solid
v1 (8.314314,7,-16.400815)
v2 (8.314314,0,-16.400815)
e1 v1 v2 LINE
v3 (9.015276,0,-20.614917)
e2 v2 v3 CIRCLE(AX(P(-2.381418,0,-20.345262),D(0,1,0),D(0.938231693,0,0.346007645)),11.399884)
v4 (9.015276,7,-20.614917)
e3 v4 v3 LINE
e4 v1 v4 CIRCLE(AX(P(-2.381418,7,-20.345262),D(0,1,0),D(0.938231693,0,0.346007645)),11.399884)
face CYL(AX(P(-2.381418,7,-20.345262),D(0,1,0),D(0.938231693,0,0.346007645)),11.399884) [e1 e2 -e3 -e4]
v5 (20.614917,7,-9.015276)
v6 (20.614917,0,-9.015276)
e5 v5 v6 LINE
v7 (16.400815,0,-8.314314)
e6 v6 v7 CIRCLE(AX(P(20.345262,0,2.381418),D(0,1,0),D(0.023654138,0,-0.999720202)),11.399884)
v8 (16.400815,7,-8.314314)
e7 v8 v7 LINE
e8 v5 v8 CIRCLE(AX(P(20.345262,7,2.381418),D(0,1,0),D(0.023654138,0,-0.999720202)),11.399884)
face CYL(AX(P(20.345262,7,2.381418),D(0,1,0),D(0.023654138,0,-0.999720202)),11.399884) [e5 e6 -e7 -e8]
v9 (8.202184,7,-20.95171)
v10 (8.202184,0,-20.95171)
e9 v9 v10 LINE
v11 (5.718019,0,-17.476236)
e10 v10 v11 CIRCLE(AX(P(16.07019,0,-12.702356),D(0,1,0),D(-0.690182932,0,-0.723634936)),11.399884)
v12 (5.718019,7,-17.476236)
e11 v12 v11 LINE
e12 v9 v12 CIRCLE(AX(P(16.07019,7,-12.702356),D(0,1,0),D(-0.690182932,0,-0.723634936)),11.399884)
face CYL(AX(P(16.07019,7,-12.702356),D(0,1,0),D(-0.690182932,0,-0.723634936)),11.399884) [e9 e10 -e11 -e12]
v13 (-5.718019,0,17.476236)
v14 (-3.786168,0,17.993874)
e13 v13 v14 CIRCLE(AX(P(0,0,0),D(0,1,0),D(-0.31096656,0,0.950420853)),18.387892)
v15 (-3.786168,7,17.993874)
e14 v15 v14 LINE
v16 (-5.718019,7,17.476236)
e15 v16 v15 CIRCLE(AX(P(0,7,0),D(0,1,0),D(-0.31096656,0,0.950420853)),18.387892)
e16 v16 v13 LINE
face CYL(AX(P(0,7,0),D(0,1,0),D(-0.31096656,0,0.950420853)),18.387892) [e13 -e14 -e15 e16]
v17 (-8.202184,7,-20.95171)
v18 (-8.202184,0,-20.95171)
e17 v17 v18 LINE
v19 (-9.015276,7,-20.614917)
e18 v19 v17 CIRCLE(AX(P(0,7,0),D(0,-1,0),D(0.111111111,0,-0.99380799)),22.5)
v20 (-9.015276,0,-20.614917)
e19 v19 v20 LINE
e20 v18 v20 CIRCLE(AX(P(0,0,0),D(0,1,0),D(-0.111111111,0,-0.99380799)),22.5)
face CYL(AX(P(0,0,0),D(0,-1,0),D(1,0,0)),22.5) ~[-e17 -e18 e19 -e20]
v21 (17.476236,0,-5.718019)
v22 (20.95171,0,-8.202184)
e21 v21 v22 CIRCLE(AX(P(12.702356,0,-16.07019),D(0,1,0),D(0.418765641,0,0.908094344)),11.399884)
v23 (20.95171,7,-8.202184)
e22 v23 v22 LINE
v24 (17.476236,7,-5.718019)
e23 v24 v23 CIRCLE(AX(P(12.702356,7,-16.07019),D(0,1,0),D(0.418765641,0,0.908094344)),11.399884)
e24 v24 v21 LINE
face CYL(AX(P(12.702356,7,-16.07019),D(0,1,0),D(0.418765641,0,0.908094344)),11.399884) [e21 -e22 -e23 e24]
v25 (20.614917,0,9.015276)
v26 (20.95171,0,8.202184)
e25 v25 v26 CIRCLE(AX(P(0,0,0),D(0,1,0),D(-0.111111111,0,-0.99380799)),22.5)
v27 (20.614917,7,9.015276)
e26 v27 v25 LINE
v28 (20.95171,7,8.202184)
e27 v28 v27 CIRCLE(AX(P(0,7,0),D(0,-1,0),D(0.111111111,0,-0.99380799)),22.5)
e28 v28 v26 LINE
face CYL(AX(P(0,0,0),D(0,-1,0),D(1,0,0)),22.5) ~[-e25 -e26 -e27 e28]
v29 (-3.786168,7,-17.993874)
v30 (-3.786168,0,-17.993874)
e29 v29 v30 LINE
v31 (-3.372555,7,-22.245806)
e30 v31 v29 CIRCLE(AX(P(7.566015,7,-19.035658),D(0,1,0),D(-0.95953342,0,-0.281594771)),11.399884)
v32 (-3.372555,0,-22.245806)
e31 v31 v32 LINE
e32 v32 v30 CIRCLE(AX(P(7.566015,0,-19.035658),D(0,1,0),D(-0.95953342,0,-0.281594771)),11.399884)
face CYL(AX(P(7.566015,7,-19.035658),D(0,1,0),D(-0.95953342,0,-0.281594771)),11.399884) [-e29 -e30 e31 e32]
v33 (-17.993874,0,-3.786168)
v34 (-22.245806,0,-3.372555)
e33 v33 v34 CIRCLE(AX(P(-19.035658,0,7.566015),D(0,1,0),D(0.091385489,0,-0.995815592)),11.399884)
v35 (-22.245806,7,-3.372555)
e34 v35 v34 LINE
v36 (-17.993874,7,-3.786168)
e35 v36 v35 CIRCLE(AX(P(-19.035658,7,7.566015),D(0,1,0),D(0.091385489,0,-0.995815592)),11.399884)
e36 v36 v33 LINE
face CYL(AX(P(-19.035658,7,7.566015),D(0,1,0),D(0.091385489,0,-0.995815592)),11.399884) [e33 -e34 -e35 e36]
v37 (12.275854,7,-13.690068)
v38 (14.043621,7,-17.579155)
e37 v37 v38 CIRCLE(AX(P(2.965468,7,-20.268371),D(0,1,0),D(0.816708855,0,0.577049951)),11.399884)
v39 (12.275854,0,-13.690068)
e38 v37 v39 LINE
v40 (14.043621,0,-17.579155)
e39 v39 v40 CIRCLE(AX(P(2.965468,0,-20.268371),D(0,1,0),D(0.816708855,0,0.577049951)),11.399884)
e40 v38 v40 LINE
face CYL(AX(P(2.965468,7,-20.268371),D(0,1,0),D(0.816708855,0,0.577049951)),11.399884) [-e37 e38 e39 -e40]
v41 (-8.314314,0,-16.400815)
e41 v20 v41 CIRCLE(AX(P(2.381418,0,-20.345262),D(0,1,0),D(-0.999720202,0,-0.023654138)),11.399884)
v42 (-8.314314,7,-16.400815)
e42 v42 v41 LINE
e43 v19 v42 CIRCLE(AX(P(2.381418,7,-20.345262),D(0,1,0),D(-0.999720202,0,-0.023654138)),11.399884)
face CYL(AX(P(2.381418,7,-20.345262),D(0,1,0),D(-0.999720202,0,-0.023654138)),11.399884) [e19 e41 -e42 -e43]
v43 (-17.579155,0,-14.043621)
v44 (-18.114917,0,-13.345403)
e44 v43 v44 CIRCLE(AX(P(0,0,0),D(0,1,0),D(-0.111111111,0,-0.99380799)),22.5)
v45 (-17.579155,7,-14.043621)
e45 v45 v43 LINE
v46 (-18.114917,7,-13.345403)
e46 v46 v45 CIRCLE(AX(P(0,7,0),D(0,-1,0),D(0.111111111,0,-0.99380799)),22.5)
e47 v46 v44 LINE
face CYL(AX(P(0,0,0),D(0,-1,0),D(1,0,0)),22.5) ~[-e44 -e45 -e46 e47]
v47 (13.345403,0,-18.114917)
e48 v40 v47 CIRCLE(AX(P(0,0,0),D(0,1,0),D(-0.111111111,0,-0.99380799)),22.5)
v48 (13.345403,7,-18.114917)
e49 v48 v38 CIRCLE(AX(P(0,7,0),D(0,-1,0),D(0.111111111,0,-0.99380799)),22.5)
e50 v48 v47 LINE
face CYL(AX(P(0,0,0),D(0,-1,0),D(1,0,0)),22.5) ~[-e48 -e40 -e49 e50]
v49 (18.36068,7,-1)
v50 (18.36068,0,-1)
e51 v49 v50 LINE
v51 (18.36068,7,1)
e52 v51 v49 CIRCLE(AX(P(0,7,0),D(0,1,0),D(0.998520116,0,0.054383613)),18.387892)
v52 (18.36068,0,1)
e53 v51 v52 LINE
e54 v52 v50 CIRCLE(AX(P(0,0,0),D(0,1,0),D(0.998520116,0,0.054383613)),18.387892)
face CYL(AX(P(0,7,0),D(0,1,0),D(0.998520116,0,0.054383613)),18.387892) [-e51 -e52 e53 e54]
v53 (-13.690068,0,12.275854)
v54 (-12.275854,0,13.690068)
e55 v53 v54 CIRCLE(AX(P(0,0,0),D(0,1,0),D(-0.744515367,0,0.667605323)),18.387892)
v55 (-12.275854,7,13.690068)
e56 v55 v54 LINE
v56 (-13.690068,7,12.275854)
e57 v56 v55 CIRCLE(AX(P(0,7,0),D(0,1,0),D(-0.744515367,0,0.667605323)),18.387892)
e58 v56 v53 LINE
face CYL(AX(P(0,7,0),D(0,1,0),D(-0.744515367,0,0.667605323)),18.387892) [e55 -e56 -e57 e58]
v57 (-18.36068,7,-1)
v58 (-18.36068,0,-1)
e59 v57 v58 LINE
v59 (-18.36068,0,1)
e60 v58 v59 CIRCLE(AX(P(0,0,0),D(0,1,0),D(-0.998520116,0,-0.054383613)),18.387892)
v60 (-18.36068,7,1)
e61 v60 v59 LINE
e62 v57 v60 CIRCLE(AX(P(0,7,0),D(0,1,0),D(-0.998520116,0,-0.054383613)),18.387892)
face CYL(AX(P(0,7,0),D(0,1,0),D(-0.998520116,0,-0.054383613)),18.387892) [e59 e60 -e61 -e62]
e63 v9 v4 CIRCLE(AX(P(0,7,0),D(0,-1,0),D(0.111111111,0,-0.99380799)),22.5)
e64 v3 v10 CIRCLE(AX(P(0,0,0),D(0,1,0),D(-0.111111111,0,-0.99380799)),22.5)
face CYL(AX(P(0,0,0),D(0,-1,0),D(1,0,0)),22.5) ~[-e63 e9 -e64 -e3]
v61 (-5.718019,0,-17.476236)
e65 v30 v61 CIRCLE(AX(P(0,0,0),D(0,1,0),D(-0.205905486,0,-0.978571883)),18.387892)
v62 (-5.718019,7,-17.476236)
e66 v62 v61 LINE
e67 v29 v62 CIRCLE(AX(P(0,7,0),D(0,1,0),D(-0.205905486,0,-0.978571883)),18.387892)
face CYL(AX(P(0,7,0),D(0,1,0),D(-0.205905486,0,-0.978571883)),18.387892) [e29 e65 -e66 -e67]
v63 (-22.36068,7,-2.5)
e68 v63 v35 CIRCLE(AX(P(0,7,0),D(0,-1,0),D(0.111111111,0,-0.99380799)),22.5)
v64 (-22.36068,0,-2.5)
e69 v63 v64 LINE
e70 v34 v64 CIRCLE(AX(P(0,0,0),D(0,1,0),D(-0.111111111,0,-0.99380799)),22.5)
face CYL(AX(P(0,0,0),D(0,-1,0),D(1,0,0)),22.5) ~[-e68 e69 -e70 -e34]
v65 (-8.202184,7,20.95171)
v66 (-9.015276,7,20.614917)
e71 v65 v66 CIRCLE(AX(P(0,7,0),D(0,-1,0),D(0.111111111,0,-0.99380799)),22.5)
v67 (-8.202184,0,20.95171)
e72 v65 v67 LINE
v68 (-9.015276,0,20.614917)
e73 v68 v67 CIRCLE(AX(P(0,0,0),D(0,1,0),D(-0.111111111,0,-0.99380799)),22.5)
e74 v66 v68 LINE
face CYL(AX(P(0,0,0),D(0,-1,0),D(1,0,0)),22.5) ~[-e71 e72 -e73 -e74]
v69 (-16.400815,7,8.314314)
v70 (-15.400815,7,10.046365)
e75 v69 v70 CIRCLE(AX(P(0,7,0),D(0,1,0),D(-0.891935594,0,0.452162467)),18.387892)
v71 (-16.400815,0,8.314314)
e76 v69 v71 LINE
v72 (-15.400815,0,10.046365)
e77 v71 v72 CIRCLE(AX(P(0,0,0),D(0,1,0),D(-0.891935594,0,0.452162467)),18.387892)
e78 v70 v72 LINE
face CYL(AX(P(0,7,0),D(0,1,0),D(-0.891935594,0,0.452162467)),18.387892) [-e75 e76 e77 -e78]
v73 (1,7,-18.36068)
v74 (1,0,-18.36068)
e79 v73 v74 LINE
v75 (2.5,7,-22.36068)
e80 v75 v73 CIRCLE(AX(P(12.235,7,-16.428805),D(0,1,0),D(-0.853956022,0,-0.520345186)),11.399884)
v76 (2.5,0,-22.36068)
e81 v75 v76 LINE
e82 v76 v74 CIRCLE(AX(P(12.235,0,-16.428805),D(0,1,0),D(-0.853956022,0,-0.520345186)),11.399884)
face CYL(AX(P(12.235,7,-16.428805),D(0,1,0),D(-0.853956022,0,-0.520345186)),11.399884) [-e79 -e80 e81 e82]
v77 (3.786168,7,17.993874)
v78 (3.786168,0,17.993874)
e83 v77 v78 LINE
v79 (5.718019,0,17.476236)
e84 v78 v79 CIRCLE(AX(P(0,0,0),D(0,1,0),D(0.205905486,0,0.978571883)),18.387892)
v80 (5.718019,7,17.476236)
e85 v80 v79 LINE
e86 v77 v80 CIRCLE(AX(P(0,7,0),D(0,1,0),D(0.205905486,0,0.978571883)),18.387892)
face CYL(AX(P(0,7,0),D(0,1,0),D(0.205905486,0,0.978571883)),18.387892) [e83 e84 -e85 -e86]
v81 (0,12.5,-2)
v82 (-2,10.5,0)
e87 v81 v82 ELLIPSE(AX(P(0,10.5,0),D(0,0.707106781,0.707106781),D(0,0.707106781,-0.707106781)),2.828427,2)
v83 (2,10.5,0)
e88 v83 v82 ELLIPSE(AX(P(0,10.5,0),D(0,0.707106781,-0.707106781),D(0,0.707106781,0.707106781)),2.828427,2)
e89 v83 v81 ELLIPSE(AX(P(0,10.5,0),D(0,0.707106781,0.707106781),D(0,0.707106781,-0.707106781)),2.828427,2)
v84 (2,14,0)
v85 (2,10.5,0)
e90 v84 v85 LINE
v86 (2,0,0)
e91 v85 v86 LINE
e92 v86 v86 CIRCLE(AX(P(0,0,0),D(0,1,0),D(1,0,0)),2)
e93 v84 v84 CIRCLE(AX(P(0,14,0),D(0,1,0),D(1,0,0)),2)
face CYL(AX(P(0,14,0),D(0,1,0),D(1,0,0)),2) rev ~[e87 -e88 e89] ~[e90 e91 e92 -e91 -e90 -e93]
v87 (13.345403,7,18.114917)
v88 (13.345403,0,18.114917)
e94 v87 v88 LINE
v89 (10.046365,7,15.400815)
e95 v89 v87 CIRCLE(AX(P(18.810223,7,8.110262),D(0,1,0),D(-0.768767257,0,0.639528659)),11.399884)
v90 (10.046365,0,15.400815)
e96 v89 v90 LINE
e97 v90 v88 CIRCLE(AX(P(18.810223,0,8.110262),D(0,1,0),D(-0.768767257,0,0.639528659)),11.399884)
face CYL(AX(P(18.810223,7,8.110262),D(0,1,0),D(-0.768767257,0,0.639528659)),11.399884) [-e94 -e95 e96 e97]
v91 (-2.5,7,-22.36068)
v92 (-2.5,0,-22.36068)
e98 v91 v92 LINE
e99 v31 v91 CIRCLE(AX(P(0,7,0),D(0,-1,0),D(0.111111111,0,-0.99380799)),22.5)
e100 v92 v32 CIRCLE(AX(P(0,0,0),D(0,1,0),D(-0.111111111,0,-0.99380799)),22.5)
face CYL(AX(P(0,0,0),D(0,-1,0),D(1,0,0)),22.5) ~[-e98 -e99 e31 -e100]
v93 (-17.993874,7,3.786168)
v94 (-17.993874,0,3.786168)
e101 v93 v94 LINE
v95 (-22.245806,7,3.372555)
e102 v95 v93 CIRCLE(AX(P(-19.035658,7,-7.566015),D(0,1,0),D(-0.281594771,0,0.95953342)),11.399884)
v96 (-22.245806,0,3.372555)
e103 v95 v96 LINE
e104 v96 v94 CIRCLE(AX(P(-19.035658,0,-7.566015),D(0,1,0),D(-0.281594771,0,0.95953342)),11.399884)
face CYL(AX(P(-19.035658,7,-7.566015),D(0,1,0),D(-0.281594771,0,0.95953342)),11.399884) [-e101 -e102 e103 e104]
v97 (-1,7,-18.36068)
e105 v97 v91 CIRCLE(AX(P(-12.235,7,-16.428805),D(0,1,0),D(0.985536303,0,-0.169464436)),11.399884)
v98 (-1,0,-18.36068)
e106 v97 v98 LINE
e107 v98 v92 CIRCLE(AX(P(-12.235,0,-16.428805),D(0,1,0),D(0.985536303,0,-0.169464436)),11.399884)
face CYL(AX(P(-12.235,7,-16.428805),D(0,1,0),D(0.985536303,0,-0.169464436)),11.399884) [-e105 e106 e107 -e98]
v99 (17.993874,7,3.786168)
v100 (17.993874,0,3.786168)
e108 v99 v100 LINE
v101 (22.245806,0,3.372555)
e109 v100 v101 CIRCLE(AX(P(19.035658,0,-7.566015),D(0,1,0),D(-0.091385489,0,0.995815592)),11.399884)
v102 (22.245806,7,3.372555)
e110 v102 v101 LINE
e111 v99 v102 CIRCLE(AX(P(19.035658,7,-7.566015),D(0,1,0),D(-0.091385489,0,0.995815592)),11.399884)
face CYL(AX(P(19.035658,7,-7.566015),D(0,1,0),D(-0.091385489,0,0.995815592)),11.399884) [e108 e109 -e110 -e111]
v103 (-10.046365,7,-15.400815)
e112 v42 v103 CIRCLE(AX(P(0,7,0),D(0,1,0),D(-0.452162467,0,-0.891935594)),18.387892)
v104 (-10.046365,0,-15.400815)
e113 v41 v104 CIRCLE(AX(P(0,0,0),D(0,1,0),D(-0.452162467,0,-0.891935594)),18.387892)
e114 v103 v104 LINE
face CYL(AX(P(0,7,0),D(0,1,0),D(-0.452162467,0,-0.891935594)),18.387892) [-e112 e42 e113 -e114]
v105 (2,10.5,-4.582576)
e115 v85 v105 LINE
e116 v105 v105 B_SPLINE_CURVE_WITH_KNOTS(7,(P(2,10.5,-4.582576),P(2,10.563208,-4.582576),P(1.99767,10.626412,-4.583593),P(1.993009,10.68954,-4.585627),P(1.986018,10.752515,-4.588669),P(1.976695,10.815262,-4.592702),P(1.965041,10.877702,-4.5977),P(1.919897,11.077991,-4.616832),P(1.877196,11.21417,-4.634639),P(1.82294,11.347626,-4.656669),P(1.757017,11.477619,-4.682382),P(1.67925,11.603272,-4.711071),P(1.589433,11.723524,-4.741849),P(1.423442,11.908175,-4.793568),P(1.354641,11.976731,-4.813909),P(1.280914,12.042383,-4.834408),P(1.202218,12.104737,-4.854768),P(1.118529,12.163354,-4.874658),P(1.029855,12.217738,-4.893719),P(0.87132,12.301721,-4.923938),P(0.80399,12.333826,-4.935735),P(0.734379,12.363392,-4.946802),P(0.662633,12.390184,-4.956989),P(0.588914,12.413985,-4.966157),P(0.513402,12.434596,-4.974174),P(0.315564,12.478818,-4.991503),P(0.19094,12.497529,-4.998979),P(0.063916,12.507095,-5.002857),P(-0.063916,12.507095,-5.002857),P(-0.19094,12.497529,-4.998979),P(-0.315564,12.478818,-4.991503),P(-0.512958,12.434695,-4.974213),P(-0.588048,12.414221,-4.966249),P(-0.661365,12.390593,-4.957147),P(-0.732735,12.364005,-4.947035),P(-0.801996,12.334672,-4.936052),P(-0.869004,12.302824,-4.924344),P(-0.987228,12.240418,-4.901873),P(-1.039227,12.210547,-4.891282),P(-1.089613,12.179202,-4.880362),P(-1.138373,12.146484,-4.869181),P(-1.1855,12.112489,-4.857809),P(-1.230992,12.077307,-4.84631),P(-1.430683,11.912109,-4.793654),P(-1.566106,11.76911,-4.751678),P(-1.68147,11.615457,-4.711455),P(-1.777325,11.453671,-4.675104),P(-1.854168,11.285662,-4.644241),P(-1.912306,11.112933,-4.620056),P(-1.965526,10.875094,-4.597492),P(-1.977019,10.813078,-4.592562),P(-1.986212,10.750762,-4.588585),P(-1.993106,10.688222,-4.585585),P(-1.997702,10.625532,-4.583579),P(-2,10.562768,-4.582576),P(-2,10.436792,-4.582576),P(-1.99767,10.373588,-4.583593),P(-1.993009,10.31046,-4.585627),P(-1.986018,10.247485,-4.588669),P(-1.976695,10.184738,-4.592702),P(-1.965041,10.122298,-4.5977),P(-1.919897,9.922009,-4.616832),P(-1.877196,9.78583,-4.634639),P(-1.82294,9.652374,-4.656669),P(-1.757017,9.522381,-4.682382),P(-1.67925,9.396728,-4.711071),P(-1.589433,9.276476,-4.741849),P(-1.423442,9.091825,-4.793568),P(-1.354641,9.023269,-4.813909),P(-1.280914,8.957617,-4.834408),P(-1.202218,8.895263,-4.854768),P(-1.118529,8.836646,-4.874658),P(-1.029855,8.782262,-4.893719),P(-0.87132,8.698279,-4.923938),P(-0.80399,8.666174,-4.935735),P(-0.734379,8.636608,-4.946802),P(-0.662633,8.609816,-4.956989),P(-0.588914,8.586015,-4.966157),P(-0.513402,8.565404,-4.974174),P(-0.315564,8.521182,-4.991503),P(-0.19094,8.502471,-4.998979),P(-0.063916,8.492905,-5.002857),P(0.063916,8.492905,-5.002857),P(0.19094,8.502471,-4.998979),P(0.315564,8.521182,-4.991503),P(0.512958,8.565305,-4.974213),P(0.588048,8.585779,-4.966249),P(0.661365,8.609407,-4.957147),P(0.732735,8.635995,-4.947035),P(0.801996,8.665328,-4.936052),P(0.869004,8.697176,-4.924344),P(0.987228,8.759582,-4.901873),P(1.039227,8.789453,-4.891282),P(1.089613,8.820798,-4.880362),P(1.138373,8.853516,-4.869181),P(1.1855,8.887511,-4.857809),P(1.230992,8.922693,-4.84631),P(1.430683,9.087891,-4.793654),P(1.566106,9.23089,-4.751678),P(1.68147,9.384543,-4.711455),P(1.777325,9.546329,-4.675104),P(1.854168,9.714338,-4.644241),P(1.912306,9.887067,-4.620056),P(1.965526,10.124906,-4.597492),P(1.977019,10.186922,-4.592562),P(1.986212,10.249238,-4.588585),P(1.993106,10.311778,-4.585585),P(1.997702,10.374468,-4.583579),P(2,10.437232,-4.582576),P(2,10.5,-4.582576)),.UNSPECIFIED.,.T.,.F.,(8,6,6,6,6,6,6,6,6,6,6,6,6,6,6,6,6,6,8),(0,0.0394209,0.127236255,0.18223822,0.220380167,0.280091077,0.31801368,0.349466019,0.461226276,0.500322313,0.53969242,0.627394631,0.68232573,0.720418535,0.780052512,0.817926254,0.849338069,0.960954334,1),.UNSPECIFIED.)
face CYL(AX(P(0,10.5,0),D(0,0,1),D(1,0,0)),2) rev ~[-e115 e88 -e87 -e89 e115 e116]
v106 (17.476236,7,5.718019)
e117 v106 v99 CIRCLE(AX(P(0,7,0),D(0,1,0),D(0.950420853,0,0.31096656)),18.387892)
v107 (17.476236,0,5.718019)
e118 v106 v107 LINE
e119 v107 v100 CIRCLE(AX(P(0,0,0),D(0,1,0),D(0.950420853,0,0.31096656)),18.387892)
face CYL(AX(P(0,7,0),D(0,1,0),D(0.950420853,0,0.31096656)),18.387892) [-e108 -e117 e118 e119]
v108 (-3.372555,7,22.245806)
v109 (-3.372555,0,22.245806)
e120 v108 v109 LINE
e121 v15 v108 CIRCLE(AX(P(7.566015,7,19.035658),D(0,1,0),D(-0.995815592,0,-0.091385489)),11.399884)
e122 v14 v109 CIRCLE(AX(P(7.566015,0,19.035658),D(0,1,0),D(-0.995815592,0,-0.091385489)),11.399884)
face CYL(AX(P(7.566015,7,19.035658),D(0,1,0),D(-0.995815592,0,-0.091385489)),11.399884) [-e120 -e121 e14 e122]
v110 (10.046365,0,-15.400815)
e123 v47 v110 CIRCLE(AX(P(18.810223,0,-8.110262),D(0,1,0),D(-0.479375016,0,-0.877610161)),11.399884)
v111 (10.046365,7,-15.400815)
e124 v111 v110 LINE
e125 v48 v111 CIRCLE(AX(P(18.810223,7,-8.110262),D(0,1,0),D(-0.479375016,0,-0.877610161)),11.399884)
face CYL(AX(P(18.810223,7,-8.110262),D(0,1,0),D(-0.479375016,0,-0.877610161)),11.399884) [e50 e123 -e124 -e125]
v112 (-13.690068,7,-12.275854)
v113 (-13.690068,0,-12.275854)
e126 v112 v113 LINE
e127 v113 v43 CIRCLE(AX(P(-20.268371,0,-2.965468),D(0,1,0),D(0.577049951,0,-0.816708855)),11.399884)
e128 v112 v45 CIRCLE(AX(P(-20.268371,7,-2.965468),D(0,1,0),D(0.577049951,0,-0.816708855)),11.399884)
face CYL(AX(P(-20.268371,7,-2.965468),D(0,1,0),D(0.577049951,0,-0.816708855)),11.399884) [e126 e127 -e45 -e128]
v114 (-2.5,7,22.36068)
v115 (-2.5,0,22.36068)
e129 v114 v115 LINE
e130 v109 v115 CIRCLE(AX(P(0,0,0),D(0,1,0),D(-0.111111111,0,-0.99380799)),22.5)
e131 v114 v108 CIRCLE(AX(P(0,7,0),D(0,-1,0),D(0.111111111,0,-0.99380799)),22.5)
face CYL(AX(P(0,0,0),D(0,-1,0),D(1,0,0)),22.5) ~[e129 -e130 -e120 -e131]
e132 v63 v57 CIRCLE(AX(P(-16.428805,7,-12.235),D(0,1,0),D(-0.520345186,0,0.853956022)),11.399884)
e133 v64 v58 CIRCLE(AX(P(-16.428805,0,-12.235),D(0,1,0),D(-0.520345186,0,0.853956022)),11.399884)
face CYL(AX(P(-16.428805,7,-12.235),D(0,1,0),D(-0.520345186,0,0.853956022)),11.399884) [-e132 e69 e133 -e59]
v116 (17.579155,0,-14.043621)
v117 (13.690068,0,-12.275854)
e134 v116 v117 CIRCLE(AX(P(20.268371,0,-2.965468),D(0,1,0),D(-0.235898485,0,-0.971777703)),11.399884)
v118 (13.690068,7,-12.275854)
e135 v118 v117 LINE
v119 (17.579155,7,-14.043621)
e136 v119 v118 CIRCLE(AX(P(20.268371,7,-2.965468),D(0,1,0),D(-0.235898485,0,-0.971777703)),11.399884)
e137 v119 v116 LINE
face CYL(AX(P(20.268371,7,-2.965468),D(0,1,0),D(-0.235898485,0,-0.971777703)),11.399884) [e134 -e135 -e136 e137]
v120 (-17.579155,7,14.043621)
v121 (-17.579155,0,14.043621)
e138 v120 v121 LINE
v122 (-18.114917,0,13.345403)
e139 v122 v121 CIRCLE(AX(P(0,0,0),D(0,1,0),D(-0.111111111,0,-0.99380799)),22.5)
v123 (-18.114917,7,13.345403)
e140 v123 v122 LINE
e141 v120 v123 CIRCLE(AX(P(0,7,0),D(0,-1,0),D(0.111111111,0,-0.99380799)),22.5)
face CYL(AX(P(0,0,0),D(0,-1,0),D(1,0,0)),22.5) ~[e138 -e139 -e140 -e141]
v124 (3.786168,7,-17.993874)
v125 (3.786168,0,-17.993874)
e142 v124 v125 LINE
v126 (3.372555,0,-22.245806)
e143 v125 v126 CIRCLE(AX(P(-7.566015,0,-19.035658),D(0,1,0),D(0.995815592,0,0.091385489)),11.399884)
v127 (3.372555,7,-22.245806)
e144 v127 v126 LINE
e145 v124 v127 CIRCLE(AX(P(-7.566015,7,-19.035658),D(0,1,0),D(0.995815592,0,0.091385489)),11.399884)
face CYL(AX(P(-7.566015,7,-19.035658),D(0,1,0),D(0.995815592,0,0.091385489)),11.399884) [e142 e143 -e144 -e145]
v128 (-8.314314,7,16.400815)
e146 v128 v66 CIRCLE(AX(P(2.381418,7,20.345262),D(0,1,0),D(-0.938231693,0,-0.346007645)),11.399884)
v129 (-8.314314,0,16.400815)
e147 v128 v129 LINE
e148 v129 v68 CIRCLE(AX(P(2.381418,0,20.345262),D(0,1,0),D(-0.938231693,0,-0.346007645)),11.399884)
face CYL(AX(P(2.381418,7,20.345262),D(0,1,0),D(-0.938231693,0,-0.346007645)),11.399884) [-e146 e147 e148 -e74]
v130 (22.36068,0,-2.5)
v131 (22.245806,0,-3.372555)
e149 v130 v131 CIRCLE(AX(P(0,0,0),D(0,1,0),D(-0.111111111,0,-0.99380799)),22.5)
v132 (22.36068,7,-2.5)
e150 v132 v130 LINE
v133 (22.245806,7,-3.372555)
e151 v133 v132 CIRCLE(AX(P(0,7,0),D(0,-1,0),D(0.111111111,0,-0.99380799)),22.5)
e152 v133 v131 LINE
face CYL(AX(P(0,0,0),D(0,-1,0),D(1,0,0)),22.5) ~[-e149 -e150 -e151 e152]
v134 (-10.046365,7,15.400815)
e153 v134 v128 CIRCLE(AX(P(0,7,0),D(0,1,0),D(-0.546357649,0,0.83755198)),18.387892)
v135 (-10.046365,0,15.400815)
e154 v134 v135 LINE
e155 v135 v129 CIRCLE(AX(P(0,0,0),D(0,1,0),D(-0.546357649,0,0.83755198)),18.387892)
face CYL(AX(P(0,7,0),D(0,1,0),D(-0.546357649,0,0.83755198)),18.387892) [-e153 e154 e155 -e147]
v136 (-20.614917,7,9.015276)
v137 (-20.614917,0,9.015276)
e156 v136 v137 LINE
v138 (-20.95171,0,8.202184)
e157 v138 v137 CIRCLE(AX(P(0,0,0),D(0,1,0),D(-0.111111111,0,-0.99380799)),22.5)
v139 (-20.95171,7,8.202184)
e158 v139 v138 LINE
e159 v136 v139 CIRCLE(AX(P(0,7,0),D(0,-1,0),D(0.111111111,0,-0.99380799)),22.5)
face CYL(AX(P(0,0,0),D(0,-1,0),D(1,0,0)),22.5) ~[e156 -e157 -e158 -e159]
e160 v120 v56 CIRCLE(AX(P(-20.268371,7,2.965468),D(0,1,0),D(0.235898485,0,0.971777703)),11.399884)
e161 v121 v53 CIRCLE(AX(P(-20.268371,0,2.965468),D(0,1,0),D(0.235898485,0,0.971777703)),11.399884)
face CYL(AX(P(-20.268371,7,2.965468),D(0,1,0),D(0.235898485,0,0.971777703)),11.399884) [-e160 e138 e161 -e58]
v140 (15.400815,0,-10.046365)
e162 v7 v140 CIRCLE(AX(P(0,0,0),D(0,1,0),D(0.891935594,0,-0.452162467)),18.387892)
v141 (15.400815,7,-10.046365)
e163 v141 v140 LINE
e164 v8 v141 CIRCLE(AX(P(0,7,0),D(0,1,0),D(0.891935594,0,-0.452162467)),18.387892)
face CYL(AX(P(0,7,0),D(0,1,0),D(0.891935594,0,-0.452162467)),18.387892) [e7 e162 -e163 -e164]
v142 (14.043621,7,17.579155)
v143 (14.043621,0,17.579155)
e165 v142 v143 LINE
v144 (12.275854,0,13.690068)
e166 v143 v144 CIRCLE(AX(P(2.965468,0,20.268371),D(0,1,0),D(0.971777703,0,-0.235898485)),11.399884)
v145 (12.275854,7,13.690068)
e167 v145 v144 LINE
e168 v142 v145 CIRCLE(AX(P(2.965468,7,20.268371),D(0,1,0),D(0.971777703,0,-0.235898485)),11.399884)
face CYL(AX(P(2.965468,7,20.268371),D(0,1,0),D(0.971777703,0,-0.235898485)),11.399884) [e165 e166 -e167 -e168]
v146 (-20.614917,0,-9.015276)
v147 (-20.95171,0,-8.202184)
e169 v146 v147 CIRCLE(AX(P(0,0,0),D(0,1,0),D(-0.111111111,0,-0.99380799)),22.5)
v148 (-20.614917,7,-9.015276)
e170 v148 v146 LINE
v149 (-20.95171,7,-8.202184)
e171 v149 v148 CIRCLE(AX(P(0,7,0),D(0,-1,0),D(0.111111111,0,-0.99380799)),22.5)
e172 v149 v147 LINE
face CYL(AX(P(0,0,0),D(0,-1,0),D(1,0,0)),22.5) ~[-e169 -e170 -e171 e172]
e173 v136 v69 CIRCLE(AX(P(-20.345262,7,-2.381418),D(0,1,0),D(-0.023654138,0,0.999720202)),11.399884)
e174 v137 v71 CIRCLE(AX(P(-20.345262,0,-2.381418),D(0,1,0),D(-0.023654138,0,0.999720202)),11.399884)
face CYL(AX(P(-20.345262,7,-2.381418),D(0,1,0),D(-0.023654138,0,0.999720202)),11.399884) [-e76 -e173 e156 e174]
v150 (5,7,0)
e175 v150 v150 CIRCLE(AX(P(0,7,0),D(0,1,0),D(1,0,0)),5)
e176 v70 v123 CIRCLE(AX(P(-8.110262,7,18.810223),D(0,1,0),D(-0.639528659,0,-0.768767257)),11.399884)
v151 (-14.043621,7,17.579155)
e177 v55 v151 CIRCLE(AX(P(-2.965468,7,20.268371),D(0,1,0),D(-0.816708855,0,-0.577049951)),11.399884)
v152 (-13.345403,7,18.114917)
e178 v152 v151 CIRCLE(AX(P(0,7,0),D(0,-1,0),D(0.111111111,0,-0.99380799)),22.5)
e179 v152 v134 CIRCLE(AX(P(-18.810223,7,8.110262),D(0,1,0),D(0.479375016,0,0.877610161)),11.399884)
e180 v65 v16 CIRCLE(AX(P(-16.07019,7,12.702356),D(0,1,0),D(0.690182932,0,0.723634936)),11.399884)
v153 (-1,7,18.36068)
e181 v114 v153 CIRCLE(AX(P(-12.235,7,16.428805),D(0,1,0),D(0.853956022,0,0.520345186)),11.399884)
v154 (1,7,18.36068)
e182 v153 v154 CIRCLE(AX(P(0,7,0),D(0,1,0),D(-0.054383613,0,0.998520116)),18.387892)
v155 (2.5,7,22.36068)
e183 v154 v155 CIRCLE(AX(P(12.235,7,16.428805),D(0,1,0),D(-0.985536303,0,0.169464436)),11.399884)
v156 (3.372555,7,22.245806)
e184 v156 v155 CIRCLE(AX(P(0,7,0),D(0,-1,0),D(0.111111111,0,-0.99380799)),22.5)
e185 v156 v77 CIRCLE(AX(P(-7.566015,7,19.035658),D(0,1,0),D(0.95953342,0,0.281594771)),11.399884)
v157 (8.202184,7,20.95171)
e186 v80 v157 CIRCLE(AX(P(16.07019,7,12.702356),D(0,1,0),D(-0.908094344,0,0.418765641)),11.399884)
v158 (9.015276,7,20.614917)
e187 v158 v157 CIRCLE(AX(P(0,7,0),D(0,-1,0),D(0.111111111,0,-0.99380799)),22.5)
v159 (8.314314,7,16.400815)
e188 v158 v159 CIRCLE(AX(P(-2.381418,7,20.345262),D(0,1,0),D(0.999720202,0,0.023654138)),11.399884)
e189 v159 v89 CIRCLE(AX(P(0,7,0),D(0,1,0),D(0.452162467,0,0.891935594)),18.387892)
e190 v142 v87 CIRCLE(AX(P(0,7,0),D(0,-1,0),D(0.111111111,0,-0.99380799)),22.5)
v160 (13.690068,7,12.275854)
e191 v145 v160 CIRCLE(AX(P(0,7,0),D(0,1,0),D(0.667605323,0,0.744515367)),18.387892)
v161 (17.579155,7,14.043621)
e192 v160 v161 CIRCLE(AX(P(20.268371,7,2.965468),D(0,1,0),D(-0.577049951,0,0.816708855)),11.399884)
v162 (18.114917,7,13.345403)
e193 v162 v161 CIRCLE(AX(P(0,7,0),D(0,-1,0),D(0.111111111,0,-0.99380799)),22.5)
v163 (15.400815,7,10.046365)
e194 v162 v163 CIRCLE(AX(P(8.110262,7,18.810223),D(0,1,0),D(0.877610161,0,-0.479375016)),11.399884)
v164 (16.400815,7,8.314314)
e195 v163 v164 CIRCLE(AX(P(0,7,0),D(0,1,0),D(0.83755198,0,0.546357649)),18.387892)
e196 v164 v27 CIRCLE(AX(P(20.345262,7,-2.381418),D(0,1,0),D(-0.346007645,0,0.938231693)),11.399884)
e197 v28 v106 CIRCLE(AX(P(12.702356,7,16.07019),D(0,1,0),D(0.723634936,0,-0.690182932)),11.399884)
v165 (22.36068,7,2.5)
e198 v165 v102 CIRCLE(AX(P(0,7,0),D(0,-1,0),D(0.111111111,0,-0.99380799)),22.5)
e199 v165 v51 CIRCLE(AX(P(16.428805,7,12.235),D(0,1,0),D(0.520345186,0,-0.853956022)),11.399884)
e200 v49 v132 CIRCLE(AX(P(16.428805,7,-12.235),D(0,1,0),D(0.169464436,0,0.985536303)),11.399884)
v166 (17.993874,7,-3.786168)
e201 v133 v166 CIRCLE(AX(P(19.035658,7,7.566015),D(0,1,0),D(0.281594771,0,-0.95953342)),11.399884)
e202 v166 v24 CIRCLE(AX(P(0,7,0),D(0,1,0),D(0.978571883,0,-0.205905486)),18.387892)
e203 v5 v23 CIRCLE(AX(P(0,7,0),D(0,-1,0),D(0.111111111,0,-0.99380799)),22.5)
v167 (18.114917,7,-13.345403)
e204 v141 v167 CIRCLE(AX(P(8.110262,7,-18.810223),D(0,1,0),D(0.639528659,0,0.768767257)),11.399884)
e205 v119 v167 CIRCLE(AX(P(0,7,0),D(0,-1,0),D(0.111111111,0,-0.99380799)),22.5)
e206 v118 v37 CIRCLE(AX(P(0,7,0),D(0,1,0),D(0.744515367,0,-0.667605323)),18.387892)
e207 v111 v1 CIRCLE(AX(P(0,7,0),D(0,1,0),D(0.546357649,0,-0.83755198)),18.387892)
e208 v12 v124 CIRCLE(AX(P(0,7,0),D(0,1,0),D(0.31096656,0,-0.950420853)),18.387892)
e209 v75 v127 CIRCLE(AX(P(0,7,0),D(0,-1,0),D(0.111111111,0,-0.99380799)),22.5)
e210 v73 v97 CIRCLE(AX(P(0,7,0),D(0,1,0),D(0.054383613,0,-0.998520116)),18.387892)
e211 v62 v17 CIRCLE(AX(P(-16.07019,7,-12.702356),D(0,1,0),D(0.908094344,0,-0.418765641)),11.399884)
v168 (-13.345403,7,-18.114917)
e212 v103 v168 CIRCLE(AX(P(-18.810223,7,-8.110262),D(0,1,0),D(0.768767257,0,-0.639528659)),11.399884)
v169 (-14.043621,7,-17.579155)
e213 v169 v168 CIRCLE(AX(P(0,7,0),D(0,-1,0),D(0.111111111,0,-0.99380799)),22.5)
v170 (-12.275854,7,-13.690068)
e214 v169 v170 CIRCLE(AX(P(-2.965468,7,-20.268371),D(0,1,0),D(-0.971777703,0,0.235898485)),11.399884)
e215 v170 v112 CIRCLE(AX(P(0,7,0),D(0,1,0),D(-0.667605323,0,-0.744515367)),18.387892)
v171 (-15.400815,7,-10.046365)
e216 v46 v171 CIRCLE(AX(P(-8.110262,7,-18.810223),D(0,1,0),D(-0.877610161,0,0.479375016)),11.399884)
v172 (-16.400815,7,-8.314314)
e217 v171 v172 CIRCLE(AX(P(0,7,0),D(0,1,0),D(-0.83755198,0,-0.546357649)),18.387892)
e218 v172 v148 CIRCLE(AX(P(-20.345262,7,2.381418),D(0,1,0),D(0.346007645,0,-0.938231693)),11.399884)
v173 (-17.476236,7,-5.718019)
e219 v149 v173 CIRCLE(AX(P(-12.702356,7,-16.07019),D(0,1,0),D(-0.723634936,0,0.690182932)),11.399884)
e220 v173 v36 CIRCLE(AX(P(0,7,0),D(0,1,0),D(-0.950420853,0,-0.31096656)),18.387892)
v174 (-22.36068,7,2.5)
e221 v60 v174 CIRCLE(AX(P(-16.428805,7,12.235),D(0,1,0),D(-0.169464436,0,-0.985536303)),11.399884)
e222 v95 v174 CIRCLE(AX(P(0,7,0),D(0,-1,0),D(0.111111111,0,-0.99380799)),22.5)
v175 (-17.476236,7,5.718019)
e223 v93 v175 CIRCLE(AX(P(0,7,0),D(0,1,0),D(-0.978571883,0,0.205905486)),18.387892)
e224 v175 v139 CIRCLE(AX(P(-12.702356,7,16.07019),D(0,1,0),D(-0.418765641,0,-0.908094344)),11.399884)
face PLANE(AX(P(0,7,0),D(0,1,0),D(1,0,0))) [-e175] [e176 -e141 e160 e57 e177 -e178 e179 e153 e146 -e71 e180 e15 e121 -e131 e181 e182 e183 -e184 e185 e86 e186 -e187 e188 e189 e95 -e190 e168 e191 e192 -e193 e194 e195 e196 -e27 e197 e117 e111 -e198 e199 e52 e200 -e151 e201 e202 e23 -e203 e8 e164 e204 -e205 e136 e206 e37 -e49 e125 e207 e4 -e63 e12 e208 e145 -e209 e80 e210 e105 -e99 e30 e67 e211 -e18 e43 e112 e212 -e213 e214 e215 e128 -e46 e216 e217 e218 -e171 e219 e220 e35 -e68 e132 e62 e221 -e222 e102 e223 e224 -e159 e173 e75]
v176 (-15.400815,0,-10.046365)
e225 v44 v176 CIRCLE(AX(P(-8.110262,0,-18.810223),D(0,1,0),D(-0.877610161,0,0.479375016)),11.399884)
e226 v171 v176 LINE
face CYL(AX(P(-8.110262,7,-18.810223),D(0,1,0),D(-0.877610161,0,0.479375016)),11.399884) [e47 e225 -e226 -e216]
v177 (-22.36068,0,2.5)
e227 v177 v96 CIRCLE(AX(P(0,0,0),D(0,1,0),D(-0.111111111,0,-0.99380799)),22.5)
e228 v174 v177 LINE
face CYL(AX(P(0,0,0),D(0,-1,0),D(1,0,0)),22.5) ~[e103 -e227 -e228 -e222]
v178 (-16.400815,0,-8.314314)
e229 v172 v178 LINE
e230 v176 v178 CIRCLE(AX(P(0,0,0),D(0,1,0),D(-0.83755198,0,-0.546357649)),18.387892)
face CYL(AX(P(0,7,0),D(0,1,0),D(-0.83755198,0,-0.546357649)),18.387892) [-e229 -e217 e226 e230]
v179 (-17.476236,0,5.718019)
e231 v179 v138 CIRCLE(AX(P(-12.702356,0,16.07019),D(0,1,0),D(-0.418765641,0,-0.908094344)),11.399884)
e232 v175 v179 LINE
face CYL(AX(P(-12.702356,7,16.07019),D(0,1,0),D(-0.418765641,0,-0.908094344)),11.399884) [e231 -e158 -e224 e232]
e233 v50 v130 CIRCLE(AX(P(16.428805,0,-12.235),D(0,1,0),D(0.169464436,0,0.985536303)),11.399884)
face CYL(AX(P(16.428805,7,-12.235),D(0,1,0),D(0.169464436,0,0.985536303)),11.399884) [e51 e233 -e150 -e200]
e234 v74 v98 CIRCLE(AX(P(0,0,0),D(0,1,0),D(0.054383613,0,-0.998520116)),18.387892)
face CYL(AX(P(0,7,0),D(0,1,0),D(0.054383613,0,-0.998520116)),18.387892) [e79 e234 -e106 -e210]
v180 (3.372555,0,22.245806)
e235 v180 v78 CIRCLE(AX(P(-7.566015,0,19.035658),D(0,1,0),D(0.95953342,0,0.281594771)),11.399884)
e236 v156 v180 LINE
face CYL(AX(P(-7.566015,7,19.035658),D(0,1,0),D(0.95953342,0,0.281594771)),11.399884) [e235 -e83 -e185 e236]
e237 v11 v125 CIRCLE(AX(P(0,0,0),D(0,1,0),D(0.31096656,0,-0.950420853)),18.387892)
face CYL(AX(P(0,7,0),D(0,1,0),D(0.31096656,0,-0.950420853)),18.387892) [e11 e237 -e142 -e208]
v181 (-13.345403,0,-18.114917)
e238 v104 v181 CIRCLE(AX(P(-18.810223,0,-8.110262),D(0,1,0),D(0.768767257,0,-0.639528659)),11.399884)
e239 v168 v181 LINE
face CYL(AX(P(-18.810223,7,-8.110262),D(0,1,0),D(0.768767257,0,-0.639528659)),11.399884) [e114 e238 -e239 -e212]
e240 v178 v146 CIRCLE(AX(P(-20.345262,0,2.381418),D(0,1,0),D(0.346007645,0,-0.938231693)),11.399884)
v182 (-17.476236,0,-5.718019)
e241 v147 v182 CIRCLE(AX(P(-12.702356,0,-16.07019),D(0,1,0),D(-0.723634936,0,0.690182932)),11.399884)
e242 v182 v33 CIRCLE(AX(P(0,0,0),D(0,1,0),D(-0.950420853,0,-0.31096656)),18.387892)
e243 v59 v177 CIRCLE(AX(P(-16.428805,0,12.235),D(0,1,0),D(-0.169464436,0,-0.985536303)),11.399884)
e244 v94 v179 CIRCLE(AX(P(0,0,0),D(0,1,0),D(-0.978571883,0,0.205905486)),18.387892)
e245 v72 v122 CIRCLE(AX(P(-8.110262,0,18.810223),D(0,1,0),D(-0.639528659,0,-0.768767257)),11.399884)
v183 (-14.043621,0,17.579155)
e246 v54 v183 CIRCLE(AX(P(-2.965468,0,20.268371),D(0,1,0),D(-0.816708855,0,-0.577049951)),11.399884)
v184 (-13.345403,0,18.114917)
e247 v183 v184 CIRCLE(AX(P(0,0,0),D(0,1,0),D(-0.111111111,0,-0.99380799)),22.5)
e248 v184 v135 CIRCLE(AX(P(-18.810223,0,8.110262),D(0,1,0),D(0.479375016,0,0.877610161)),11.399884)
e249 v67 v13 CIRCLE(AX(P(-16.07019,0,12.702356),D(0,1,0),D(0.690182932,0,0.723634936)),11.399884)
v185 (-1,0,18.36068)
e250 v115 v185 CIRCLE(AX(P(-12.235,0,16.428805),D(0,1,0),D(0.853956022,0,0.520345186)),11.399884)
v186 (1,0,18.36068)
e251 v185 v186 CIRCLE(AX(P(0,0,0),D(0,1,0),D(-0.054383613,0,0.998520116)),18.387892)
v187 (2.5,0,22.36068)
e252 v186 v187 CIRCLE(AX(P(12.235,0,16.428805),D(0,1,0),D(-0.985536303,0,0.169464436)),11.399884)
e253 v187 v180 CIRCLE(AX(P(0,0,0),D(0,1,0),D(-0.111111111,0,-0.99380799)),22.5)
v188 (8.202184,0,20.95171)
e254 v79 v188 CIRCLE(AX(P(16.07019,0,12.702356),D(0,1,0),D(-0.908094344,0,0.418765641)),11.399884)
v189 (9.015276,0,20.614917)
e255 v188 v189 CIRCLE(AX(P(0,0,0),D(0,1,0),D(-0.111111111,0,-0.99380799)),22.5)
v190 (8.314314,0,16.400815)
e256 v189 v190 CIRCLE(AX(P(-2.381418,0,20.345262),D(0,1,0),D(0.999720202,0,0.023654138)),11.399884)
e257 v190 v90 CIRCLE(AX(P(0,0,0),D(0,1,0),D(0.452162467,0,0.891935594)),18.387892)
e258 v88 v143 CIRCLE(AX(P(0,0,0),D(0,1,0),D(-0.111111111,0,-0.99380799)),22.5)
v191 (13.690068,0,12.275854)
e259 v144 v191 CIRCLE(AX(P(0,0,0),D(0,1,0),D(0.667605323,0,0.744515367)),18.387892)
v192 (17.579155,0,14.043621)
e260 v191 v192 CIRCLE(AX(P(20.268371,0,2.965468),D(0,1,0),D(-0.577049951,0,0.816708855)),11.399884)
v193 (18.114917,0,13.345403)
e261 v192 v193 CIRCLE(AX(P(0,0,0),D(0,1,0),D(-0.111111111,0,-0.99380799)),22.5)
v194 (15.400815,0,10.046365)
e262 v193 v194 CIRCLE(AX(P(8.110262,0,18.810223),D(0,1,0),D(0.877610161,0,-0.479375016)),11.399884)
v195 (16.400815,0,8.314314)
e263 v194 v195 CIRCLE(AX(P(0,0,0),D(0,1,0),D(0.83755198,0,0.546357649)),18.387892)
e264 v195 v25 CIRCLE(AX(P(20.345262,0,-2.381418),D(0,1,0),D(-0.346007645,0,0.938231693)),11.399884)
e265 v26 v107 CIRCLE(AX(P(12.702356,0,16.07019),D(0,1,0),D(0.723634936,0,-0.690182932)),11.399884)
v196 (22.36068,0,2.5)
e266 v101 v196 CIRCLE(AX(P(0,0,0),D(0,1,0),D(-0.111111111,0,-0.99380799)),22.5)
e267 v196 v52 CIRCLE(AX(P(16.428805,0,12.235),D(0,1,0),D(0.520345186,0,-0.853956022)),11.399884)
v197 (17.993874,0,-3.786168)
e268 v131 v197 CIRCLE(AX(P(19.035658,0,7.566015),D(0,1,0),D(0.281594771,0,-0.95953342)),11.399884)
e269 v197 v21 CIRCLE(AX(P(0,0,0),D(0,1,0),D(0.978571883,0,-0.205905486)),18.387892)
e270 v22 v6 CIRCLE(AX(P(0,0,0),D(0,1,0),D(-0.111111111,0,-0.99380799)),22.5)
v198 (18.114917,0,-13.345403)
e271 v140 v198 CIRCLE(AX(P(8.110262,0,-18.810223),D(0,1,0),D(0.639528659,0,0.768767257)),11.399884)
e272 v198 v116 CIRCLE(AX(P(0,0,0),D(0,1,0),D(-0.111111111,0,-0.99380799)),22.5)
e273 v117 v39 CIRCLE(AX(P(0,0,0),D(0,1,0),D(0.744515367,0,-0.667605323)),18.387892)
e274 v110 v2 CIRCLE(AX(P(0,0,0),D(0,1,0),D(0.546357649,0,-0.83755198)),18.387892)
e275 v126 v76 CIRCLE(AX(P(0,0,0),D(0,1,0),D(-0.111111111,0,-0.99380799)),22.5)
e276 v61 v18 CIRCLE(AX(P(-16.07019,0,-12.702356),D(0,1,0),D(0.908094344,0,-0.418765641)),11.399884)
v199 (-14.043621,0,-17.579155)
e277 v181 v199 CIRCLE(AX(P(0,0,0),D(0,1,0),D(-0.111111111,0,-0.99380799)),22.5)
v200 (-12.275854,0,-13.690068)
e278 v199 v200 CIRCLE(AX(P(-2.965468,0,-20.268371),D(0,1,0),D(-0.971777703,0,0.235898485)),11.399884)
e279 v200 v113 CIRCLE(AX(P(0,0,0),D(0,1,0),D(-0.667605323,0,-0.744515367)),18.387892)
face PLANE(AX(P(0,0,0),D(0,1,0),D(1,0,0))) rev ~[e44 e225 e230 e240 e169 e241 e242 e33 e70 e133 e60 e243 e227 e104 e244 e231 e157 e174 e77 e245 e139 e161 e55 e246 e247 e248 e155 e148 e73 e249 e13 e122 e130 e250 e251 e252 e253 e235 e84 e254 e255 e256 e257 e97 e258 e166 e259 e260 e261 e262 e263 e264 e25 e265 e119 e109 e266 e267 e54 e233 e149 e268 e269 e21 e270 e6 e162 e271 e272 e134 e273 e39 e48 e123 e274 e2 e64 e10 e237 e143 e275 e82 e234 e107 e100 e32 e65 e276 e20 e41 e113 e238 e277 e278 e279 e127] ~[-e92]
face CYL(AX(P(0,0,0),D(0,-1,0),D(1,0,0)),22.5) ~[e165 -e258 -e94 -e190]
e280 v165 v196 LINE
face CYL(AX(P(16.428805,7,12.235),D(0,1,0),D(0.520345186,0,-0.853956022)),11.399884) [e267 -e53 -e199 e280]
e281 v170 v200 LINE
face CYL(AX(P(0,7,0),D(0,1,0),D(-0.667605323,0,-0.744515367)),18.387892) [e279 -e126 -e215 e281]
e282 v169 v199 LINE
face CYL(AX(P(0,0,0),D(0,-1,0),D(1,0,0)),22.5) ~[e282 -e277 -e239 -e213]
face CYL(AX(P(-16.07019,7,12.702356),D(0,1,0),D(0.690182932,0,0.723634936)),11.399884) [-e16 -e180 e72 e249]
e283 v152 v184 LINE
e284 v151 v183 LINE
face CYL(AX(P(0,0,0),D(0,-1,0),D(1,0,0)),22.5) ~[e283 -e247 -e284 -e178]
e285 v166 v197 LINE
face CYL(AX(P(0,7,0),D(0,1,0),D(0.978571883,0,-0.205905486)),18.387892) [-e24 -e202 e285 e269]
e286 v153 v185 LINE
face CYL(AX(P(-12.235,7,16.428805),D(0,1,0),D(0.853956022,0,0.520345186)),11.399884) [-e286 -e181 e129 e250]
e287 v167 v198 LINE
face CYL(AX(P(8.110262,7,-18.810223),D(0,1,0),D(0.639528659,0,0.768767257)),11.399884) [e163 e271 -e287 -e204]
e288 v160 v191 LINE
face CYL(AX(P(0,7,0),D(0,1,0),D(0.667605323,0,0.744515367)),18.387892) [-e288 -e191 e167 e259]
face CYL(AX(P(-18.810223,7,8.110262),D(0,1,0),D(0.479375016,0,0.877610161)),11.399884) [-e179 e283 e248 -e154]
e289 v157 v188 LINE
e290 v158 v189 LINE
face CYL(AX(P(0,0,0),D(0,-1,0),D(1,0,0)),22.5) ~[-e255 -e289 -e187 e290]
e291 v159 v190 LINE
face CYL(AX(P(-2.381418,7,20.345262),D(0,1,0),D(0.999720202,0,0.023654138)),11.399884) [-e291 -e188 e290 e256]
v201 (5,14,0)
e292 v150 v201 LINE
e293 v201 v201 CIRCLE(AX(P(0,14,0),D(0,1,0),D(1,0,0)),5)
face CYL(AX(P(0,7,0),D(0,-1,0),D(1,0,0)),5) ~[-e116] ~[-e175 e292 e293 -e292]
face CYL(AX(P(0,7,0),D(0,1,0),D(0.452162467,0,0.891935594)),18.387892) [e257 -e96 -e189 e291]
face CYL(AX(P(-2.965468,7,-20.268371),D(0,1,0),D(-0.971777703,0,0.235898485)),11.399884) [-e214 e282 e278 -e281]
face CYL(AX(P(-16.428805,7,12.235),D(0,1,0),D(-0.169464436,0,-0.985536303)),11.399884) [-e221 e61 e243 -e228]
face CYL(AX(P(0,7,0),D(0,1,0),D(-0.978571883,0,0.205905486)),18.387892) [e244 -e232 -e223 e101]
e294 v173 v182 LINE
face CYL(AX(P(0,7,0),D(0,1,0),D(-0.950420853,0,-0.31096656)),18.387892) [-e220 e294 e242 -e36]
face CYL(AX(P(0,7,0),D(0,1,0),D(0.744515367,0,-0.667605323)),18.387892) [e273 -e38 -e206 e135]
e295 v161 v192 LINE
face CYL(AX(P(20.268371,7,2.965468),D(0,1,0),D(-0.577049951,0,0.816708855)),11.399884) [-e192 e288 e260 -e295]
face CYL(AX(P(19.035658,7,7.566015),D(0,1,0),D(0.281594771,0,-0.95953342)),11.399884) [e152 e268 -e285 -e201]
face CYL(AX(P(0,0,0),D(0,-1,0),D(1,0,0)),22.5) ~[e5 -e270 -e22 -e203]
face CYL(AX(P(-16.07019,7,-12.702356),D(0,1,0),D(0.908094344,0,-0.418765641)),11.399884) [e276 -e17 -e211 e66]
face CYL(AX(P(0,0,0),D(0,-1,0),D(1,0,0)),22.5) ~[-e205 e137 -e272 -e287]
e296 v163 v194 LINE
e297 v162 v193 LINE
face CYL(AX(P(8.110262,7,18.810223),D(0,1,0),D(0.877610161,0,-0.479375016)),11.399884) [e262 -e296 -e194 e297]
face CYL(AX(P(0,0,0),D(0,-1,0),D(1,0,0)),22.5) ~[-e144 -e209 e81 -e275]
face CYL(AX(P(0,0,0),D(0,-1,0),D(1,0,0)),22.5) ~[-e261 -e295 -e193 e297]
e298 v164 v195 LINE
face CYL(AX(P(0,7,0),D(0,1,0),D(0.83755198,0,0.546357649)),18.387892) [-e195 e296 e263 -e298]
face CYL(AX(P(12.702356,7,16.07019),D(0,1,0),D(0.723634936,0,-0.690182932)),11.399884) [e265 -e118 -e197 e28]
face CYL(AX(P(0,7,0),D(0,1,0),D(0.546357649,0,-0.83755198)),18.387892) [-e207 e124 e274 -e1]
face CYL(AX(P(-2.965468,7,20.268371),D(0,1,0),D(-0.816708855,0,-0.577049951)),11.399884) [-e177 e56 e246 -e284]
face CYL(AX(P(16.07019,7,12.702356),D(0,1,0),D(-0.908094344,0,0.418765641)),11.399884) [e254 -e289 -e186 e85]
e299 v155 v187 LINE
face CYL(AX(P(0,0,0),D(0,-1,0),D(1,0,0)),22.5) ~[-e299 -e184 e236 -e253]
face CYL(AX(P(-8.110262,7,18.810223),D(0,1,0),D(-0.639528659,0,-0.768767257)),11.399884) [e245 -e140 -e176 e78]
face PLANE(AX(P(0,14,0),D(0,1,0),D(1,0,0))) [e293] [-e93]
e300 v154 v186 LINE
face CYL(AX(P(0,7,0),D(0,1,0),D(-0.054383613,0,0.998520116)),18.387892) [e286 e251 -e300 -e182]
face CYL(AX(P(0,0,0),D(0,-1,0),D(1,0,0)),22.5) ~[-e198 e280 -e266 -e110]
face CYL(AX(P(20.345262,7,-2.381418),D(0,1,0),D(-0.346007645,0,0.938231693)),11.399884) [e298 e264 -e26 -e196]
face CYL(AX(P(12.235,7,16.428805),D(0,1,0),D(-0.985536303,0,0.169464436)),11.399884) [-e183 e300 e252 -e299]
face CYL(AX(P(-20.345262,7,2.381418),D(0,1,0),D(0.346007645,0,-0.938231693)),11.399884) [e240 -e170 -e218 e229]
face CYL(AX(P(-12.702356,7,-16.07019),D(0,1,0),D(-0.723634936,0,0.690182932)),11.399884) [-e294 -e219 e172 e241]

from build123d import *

# Parameters (mm, degrees)
SKETCH1_R           = 22.5
BOSS_EXTRUDE1_DEPTH = 7
CUT_EXTRUDE1_DEPTH  = 8
CIRPATTERN1_COUNT   = 24
SKETCH3_R           = 5
BOSS_EXTRUDE2_DEPTH = 7
SKETCH4_R           = 2
CUT_EXTRUDE2_DEPTH  = 15
SKETCH5_R           = 2
CUT_EXTRUDE3_DEPTH  = 23.360679775


with BuildPart() as part:
    # Sketch1 → Boss-Extrude1 (new body)
    with BuildSketch(Plane(origin=(0, 0, 0), x_dir=(1, 0, 0), z_dir=(0, 1, 0))):
        Circle(SKETCH1_R)
    extrude(amount=BOSS_EXTRUDE1_DEPTH)

    # Sketch2 → Cut-Extrude1 (cut, through all)
    with BuildSketch(Plane(origin=(0, 7, 0), x_dir=(1, 0, 0), z_dir=(0, 1, 0))):
        with BuildLine():
            ThreePointArc((2.5, 22.360679775), (1.560955546, 20.431571445), (1, 18.360679775))
            ThreePointArc((1, 18.360679775), (0, 18.387891717), (-1, 18.360679775))
            ThreePointArc((-1, 18.360679775), (-1.560955546, 20.431571445), (-2.5, 22.360679775))
            ThreePointArc((-2.5, 22.360679775), (0, 22.5), (2.5, 22.360679775))
        make_face()
    cut_extrude1 = extrude(amount=-CUT_EXTRUDE1_DEPTH, mode=Mode.SUBTRACT)

    # CirPattern1: Cut-Extrude1 ×24 about axis
    cirpattern1_axis = Axis((0, 0, 0), (0, 1, 0))
    for i in range(1, CIRPATTERN1_COUNT):
        add(cut_extrude1.rotate(cirpattern1_axis, i * 360 / CIRPATTERN1_COUNT), mode=Mode.SUBTRACT)

    # Sketch3 → Boss-Extrude2 (add)
    with BuildSketch(Plane(origin=(0, 7, 0), x_dir=(1, 0, 0), z_dir=(0, 1, 0))):
        Circle(SKETCH3_R)
    extrude(amount=BOSS_EXTRUDE2_DEPTH)

    # Sketch4 → Cut-Extrude2 (cut, through all)
    with BuildSketch(Plane(origin=(0, 14, 0), x_dir=(1, 0, 0), z_dir=(0, 1, 0))):
        Circle(SKETCH4_R)
    extrude(amount=-CUT_EXTRUDE2_DEPTH, mode=Mode.SUBTRACT)

    # Sketch5 → Cut-Extrude3 (cut, through all)
    with BuildSketch(Plane.XY):
        with Locations((0, 10.5)):
            Circle(SKETCH5_R)
    extrude(amount=-CUT_EXTRUDE3_DEPTH, mode=Mode.SUBTRACT)


solid = part.part
